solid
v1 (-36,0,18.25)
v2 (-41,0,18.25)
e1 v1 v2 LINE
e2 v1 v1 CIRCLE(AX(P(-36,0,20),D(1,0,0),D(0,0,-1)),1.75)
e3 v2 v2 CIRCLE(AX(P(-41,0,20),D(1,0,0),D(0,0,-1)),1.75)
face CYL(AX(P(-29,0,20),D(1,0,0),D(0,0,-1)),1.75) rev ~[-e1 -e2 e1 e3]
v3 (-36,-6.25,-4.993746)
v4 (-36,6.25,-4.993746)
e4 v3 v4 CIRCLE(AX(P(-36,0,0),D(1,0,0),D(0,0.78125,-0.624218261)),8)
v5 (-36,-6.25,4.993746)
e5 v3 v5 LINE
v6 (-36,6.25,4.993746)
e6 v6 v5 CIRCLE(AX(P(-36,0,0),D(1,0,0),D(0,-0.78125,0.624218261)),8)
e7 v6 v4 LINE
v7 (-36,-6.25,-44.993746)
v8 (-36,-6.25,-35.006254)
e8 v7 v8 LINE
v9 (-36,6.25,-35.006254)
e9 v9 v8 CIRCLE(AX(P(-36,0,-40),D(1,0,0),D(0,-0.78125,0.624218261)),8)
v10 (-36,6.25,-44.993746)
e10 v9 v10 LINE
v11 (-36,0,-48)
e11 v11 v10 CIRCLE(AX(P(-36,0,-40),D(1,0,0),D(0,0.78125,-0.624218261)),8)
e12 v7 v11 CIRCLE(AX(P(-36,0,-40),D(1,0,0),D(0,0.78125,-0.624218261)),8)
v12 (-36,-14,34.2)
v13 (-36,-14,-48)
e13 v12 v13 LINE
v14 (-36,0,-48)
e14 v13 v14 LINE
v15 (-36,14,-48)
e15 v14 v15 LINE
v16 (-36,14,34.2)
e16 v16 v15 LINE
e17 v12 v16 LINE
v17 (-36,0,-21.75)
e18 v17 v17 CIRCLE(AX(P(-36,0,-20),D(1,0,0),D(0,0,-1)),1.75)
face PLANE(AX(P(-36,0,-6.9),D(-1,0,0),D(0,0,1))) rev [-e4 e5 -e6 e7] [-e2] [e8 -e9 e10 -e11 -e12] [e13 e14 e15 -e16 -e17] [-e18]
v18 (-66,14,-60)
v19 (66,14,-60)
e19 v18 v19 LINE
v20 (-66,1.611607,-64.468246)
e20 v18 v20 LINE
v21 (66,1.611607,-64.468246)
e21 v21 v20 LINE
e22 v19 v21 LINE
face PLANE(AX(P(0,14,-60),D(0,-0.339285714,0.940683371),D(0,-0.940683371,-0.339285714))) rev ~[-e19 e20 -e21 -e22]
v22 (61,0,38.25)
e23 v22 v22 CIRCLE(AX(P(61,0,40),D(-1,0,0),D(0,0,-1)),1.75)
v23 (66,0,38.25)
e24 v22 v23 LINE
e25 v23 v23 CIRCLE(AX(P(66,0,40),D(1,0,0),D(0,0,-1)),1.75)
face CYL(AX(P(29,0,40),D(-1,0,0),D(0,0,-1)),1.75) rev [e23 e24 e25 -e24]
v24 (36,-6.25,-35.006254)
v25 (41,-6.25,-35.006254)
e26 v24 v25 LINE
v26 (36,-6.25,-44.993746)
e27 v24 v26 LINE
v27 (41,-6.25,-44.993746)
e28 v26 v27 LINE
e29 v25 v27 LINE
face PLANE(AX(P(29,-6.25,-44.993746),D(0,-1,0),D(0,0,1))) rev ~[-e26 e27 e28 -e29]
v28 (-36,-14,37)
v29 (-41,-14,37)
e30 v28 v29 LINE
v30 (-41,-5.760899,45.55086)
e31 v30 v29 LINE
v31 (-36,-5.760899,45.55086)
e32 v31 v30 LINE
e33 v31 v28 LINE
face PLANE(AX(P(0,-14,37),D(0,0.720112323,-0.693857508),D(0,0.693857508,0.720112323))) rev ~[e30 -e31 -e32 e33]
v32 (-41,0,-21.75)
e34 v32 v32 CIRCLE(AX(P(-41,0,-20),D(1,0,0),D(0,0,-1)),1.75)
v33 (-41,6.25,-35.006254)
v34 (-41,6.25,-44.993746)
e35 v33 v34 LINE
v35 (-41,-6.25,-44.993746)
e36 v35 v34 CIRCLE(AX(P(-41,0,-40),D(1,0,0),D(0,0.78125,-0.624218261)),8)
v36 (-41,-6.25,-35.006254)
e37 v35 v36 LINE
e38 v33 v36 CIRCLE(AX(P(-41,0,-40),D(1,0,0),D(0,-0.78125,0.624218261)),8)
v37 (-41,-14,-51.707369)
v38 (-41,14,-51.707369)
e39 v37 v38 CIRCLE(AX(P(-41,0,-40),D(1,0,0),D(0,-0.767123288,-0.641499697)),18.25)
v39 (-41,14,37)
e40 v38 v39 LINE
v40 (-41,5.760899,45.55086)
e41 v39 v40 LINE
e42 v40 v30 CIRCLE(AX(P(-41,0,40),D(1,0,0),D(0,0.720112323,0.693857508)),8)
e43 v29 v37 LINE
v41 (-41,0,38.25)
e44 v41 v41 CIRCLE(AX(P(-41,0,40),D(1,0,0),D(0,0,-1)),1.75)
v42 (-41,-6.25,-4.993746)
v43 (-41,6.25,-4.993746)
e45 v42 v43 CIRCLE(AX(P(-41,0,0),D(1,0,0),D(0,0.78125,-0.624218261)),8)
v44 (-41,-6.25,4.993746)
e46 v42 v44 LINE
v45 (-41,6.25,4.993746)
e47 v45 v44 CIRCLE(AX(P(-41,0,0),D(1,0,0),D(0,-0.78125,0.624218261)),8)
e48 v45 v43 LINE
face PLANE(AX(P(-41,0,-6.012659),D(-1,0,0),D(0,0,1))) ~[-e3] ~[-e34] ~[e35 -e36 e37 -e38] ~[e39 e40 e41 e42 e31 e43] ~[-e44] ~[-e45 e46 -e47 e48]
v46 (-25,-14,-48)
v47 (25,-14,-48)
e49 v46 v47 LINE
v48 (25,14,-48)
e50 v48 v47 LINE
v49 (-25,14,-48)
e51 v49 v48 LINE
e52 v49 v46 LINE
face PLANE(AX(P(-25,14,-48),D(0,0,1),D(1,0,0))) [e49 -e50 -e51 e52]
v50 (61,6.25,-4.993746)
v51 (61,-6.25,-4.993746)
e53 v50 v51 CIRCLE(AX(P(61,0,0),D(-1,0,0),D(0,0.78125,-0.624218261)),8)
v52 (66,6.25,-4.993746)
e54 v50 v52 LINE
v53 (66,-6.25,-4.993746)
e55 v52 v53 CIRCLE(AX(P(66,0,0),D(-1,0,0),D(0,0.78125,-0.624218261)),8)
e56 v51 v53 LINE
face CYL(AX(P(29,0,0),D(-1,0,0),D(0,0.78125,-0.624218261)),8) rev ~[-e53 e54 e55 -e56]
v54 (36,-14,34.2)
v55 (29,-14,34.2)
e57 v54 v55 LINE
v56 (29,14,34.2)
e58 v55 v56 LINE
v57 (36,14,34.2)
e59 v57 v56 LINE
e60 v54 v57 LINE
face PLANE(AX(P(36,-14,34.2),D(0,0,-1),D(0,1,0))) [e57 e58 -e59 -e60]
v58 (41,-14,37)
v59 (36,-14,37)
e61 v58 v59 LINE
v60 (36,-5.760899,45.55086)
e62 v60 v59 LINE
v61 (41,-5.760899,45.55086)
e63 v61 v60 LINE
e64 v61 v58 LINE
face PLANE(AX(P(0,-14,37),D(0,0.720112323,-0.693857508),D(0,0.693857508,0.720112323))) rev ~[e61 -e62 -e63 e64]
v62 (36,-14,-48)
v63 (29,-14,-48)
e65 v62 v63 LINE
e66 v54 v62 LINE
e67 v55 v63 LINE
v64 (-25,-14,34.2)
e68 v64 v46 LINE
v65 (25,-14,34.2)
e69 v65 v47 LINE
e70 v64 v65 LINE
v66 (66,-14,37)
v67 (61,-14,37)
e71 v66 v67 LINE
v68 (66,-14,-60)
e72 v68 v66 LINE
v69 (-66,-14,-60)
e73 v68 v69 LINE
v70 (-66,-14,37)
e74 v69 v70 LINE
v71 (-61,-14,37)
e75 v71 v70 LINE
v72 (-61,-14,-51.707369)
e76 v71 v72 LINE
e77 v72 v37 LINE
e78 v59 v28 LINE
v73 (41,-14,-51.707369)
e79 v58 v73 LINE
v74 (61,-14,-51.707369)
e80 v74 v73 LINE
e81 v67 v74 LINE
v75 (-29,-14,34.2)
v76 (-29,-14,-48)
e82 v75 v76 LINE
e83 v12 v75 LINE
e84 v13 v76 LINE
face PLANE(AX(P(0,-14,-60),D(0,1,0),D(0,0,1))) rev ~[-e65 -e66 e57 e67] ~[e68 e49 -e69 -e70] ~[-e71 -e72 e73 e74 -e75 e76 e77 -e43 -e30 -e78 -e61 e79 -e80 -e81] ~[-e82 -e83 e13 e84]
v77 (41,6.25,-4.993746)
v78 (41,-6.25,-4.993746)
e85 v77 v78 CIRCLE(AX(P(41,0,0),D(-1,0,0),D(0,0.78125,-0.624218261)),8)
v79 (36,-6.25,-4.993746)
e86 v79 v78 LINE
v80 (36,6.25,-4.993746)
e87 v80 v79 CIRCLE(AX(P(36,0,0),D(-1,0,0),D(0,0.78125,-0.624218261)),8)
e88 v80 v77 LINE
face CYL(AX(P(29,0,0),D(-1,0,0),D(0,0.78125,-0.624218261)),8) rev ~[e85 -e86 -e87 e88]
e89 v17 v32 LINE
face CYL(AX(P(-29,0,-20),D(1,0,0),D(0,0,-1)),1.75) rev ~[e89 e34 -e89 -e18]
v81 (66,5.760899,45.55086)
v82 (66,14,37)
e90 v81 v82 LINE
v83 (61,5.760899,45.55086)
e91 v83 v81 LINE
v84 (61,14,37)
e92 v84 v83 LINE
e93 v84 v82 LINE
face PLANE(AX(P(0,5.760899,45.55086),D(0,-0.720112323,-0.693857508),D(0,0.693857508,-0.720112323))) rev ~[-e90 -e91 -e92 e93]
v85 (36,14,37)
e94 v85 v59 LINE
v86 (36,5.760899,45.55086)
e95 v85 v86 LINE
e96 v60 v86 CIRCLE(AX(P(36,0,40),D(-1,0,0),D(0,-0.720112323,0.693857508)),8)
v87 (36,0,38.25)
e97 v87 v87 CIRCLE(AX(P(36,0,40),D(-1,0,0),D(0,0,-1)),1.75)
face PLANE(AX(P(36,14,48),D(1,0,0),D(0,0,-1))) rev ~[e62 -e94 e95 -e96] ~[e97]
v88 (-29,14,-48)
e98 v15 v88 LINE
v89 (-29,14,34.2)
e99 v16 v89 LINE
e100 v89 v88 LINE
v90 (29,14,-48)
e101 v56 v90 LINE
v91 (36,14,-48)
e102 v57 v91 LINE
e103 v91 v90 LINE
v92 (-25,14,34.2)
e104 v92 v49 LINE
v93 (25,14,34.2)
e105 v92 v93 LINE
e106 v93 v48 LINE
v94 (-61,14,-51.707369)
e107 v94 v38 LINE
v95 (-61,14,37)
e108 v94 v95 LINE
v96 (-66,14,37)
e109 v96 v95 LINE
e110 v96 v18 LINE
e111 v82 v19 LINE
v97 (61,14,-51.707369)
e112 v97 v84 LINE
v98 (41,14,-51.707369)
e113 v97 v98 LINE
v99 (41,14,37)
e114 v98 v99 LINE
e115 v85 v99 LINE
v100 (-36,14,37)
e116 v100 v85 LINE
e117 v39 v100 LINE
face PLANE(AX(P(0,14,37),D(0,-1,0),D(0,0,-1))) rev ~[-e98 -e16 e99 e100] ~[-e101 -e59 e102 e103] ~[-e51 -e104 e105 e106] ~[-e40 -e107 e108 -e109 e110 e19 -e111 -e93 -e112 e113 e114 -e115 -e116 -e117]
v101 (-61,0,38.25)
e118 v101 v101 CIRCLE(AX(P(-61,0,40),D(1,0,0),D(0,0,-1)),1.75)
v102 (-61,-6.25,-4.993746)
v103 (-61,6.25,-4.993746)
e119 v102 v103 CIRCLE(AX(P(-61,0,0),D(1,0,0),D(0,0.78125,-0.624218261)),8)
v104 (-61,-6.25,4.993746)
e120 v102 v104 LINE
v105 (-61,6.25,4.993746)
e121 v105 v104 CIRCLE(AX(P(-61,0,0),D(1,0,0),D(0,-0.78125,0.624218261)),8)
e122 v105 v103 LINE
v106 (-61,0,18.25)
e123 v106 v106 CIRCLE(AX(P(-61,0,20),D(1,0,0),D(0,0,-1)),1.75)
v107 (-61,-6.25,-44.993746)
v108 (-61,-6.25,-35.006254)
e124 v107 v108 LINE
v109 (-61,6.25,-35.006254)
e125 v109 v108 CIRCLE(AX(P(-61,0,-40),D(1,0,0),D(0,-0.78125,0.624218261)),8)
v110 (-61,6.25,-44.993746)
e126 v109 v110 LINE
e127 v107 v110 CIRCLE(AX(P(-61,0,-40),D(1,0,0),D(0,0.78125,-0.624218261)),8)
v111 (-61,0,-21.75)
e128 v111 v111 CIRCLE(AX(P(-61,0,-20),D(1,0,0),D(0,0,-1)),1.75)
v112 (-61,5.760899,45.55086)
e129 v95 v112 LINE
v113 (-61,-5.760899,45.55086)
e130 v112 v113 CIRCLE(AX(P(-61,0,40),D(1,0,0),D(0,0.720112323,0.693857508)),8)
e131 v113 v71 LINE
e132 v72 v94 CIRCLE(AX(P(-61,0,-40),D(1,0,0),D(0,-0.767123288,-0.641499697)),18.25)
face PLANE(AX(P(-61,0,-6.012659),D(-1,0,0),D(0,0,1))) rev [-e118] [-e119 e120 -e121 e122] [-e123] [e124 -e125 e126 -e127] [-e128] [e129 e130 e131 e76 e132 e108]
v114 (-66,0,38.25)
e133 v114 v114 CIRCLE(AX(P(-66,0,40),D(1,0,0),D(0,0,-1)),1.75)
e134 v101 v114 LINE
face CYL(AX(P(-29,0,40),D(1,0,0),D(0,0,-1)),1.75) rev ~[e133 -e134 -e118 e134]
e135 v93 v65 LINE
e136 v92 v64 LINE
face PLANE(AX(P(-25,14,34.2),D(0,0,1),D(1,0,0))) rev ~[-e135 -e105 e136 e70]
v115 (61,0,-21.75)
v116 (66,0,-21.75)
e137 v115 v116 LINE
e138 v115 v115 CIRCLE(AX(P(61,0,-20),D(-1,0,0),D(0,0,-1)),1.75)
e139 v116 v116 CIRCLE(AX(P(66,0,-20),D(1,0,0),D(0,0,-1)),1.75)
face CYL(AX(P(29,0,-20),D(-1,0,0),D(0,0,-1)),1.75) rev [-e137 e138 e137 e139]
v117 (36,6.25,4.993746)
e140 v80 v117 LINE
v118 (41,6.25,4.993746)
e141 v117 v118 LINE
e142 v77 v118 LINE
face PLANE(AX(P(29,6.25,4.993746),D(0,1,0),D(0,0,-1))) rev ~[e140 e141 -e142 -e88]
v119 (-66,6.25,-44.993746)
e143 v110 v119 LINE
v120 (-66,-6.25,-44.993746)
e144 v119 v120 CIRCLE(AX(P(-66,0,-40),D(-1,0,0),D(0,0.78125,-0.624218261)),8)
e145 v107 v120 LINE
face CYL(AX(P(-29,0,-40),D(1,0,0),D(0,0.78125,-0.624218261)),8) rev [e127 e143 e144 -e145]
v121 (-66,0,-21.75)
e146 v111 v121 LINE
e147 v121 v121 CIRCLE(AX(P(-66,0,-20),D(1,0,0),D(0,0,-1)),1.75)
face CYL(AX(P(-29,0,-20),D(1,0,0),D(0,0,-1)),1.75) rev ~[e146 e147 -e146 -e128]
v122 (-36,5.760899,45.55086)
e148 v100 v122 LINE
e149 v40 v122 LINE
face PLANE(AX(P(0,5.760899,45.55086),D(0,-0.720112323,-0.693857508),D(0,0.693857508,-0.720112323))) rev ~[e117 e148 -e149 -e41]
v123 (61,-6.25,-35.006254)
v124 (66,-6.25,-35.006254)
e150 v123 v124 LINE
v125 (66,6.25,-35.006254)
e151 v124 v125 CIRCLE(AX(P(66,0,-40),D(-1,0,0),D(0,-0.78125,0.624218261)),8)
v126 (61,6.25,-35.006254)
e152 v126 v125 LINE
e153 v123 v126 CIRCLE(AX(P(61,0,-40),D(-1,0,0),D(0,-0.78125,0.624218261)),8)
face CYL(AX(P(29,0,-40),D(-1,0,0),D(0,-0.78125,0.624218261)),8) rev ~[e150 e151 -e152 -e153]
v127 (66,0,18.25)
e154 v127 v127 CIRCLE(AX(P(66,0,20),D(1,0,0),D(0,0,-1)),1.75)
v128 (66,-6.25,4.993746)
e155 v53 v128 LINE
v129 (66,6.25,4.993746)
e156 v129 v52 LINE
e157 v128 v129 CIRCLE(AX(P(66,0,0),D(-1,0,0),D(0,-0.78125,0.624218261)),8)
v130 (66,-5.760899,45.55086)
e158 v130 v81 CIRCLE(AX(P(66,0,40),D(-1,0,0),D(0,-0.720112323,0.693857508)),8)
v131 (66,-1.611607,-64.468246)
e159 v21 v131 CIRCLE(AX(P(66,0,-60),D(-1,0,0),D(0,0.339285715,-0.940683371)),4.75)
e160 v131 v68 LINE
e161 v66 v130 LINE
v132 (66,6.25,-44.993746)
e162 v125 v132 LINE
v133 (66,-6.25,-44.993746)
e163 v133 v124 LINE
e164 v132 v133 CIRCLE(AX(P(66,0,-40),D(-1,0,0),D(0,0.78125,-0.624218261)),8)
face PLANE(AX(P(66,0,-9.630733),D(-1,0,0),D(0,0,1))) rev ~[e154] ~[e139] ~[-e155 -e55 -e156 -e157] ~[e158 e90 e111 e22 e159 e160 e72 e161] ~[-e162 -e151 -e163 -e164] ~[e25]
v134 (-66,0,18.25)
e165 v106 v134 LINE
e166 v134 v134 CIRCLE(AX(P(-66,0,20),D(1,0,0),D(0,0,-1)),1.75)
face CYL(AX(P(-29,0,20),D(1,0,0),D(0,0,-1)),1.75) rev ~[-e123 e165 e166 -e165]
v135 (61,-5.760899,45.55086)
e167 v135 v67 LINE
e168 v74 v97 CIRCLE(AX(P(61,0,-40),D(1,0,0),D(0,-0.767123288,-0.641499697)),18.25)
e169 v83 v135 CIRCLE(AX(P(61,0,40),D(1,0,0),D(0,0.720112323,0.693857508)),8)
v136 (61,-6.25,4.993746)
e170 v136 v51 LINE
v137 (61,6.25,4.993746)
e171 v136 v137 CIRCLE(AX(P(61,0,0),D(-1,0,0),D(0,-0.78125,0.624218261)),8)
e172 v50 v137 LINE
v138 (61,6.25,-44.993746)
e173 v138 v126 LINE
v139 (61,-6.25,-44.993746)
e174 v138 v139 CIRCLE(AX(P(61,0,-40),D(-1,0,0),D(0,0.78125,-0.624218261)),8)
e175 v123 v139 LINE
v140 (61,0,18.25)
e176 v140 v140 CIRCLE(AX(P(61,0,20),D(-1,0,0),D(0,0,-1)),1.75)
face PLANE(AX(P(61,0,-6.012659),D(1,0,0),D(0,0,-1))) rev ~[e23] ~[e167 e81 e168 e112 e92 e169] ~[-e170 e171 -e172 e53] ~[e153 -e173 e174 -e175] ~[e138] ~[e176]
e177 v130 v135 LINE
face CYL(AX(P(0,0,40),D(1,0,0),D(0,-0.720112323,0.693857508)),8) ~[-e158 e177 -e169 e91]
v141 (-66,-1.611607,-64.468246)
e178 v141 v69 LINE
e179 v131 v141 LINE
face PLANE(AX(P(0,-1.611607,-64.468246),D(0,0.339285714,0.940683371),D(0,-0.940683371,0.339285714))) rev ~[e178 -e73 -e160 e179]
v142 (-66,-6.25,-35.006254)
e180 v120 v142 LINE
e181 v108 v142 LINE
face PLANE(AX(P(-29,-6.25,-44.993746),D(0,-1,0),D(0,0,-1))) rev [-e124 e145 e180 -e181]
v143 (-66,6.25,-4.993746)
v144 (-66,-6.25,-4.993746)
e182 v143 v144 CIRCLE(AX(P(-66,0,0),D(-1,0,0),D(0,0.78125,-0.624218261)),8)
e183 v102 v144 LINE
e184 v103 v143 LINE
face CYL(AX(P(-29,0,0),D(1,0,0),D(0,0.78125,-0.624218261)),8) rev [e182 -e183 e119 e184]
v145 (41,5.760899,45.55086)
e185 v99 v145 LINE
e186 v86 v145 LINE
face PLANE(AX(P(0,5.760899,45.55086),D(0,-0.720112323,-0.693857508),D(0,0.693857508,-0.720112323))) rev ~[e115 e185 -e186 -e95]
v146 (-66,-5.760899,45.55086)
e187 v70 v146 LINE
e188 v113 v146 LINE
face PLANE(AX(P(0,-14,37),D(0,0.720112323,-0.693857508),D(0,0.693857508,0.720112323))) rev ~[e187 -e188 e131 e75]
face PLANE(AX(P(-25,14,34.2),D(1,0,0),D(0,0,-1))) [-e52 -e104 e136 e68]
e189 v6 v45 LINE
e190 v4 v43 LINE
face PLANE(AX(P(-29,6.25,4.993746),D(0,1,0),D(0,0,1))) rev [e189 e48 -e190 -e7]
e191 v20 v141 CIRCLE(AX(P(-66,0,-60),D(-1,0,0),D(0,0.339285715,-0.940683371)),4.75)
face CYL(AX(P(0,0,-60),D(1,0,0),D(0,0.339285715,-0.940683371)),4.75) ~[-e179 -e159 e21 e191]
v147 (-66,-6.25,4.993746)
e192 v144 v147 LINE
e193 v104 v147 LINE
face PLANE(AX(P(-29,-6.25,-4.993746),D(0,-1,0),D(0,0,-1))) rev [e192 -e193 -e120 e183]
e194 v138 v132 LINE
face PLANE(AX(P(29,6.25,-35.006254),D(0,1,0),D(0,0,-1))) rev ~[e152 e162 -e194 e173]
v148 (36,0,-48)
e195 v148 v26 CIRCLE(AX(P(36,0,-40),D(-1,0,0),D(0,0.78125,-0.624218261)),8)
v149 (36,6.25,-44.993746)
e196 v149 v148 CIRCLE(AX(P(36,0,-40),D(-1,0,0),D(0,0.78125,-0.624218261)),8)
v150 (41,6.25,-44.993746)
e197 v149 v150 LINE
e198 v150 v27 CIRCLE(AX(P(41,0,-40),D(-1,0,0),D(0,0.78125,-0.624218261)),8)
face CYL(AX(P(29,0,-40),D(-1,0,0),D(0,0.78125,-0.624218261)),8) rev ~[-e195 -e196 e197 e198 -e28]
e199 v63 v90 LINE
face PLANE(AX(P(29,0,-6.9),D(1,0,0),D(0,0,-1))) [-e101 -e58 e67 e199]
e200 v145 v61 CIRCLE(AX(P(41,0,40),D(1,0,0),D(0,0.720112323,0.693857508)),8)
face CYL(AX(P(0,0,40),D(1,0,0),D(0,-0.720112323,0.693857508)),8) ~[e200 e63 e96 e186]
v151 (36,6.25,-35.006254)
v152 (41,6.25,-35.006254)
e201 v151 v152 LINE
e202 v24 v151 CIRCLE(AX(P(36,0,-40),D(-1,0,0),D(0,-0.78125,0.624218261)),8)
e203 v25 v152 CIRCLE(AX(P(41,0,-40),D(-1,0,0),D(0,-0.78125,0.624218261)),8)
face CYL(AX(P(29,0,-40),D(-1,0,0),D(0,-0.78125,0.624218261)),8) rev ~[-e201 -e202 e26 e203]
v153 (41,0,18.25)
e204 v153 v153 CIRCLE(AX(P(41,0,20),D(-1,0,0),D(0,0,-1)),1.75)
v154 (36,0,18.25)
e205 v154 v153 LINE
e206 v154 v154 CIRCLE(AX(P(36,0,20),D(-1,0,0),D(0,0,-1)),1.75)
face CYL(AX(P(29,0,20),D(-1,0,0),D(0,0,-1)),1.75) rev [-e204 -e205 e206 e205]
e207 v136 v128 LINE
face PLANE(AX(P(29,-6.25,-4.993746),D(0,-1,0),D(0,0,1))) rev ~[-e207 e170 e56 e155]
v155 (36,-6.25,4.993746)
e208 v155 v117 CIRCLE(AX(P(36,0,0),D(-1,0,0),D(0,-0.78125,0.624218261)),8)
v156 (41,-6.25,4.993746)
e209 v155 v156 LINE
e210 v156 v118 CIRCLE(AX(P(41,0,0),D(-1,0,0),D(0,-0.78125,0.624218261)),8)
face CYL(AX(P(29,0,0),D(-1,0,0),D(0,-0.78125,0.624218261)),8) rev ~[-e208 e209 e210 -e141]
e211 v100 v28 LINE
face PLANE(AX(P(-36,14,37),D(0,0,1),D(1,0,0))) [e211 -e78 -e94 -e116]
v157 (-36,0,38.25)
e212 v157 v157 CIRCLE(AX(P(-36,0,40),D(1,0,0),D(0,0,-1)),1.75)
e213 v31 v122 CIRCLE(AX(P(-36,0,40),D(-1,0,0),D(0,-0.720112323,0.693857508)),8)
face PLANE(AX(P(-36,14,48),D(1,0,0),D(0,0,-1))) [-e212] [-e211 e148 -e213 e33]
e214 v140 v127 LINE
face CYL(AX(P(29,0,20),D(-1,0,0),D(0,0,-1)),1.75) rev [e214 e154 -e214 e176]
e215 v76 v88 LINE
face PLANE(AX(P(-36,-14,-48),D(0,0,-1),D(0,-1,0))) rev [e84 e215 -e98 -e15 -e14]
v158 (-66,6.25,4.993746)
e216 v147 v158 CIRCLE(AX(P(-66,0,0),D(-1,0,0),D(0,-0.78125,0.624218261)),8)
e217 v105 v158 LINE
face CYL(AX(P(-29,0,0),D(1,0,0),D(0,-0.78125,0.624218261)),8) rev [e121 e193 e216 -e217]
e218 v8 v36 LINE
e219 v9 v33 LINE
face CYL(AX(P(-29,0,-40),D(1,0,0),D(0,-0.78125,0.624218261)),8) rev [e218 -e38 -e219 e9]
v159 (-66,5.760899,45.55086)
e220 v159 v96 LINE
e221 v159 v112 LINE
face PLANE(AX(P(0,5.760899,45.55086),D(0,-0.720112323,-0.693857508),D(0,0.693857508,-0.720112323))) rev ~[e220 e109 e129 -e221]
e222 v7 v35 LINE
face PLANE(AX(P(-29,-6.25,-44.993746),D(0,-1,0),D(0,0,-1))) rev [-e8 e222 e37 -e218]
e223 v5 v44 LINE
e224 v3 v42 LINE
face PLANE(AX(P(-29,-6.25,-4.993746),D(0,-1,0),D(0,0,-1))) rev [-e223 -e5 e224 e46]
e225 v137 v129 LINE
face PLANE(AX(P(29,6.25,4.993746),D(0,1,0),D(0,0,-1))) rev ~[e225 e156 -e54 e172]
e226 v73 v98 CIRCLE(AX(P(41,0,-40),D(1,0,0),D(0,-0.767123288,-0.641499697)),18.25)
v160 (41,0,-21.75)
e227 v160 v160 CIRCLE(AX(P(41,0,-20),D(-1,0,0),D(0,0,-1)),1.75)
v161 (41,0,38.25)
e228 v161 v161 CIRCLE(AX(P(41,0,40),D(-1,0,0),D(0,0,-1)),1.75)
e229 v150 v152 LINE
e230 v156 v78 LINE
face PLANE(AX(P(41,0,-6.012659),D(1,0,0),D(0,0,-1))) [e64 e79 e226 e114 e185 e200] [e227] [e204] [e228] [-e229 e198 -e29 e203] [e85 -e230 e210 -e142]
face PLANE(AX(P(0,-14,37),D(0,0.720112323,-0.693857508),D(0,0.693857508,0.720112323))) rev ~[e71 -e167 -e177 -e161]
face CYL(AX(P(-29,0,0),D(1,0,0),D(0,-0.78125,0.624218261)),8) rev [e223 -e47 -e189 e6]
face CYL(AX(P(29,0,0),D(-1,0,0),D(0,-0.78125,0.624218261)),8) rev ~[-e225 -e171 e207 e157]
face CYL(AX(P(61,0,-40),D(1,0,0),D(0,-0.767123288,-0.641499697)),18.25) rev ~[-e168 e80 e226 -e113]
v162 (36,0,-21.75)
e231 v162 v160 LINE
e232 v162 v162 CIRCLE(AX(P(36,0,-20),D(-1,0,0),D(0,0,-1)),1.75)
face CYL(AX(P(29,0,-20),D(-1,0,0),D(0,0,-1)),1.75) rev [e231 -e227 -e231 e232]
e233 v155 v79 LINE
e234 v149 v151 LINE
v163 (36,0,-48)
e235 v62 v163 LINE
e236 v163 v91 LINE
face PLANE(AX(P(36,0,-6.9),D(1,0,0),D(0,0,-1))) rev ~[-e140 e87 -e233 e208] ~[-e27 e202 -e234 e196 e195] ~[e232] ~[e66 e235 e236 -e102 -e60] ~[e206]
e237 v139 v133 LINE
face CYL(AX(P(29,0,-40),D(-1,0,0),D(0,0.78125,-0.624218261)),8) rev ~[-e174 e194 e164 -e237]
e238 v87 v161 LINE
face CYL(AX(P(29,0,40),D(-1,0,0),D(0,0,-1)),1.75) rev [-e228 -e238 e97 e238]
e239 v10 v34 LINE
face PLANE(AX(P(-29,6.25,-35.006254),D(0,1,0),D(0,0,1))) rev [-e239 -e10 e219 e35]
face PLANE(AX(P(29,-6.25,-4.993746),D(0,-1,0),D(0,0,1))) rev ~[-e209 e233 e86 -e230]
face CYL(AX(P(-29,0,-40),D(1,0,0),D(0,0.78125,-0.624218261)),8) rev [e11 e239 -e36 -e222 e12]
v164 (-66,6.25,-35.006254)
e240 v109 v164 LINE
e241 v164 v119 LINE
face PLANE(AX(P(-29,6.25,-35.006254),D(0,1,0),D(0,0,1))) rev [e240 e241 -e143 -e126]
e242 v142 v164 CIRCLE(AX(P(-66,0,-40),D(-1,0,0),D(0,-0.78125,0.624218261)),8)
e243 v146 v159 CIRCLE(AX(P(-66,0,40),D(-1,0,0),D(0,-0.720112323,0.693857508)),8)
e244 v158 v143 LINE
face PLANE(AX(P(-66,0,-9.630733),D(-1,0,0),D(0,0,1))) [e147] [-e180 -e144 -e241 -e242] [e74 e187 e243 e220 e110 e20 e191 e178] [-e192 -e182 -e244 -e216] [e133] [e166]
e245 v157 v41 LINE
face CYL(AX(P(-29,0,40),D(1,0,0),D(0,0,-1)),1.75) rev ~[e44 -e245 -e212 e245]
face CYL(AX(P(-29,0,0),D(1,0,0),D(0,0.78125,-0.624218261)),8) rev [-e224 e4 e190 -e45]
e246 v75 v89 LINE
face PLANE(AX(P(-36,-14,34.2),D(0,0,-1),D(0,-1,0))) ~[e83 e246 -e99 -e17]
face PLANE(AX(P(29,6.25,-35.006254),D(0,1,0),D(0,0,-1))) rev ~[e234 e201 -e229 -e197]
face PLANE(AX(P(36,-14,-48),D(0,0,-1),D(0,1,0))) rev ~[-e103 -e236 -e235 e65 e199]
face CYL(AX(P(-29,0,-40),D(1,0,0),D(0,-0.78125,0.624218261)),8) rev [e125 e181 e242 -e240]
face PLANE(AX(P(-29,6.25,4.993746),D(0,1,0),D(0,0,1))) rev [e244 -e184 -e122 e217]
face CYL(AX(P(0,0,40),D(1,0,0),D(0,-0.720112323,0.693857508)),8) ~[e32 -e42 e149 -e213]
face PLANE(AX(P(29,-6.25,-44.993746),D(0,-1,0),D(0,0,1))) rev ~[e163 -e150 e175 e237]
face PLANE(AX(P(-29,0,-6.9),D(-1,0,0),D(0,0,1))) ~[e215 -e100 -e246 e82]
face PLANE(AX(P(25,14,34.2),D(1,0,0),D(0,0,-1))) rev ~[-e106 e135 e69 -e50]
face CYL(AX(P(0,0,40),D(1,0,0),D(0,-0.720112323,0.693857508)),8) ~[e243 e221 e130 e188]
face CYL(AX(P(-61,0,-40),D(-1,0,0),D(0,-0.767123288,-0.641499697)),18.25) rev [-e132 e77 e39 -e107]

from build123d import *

# Parameters (mm, degrees)
BOSS_EXTRUDE1_DEPTH = 66
CUT_EXTRUDE3_START  = -5
CUT_EXTRUDE3_DEPTH  = 20
CUT_EXTRUDE4_START  = -5
SKETCH5_W           = 82.2
SKETCH5_H           = 28
CUT_EXTRUDE4_DEPTH  = 7
CUT_EXTRUDE5_START  = 29
SKETCH1_13_R        = 1.75
CUT_EXTRUDE5_DEPTH  = 37
SKETCH7_W           = 72
SKETCH7_H           = 11
CUT_EXTRUDE7_DEPTH  = 97.605188784
SKETCH8_W           = 50
SKETCH8_H           = 82.2
CUT_EXTRUDE8_DEPTH  = 97.605188784


with BuildPart() as part:
    # Sketch1 → Boss-Extrude1 (new, symmetric)
    with BuildSketch(Plane(origin=(0, 0, 0), x_dir=(0, 0, -1), z_dir=(1, 0, 0))):
        with BuildLine():
            Line((60, 14), (64.468246011, 1.611607143))
            ThreePointArc((64.468246011, 1.611607143), (64.75, 0), (64.468246011, -1.611607143))
            Line((64.468246011, -1.611607143), (60, -14))
            Line((60, -14), (-37, -14))
            Line((-37, -14), (-45.550860067, -5.760898586))
            ThreePointArc((-45.550860067, -5.760898586), (-48, 0), (-45.550860067, 5.760898586))
            Line((-45.550860067, 5.760898586), (-37, 14))
            Line((-37, 14), (60, 14))
        make_face()
    extrude(amount=BOSS_EXTRUDE1_DEPTH, both=True)

    # Sketch4 → Cut-Extrude3 (cut)
    with BuildSketch(Plane(origin=(66, 0, 0), x_dir=(0, 0, -1), z_dir=(1, 0, 0)).offset(CUT_EXTRUDE3_START)):
        with BuildLine():
            ThreePointArc((51.707369474, -14), (58.25, 0), (51.707369474, 14))
            Line((51.707369474, 14), (-37, 14))
            Line((-37, 14), (-45.550860067, 5.760898586))
            ThreePointArc((-45.550860067, 5.760898586), (-48, 0), (-45.550860067, -5.760898586))
            Line((-45.550860067, -5.760898586), (-37, -14))
            Line((-37, -14), (51.707369474, -14))
        make_face()
    cut_extrude3 = extrude(amount=-CUT_EXTRUDE3_DEPTH, mode=Mode.SUBTRACT)

    # Sketch5 → Cut-Extrude4 (cut)
    with BuildSketch(Plane(origin=(41, 0, 0), x_dir=(0, 0, -1), z_dir=(1, 0, 0)).offset(CUT_EXTRUDE4_START)):
        with Locations((6.9, 0)):
            Rectangle(SKETCH5_W, SKETCH5_H)
    cut_extrude4 = extrude(amount=-CUT_EXTRUDE4_DEPTH, mode=Mode.SUBTRACT)

    # Sketch1<13> → Cut-Extrude5 (cut)
    with BuildSketch(Plane(origin=(0, 0, 0), x_dir=(0, 0, -1), z_dir=(1, 0, 0)).offset(CUT_EXTRUDE5_START)):
        with BuildLine():
            Line((4.993746089, -6.25), (-4.993746089, -6.25))
            ThreePointArc((-4.993746089, -6.25), (-8, 0), (-4.993746089, 6.25))
            Line((-4.993746089, 6.25), (4.993746089, 6.25))
            ThreePointArc((4.993746089, 6.25), (8, 0), (4.993746089, -6.25))
        make_face()
        with BuildLine():
            Line((44.993746089, -6.25), (35.006253911, -6.25))
            ThreePointArc((35.006253911, -6.25), (32, 0), (35.006253911, 6.25))
            Line((35.006253911, 6.25), (44.993746089, 6.25))
            ThreePointArc((44.993746089, 6.25), (48, 0), (44.993746089, -6.25))
        make_face()
        with Locations((-20, 0)):
            Circle(SKETCH1_13_R)
        with Locations((20, 0)):
            Circle(SKETCH1_13_R)
        with Locations((-40, 0)):
            Circle(SKETCH1_13_R)
    cut_extrude5 = extrude(amount=CUT_EXTRUDE5_DEPTH, mode=Mode.SUBTRACT)

    # Mirror2: Cut-Extrude3, Cut-Extrude4, Cut-Extrude5 across plane
    add(cut_extrude3.mirror(Plane(origin=(0, 0, 0), x_dir=(0, 0, 1), z_dir=(1, 0, 0))), mode=Mode.SUBTRACT)
    add(cut_extrude4.mirror(Plane(origin=(0, 0, 0), x_dir=(0, 0, 1), z_dir=(1, 0, 0))), mode=Mode.SUBTRACT)
    add(cut_extrude5.mirror(Plane(origin=(0, 0, 0), x_dir=(0, 0, 1), z_dir=(1, 0, 0))), mode=Mode.SUBTRACT)

    # Sketch7 → Cut-Extrude7 (cut, through all)
    with BuildSketch(Plane(origin=(0, 14, 0), x_dir=(1, 0, 0), z_dir=(0, 1, 0))):
        with Locations((0, -42.5)):
            Rectangle(SKETCH7_W, SKETCH7_H)
    extrude(amount=-CUT_EXTRUDE7_DEPTH, mode=Mode.SUBTRACT)

    # Sketch8 → Cut-Extrude8 (cut, through all)
    with BuildSketch(Plane(origin=(0, 14, 0), x_dir=(1, 0, 0), z_dir=(0, 1, 0))):
        with Locations((0, 6.9)):
            Rectangle(SKETCH8_W, SKETCH8_H)
    extrude(amount=-CUT_EXTRUDE8_DEPTH, mode=Mode.SUBTRACT)


solid = part.part
